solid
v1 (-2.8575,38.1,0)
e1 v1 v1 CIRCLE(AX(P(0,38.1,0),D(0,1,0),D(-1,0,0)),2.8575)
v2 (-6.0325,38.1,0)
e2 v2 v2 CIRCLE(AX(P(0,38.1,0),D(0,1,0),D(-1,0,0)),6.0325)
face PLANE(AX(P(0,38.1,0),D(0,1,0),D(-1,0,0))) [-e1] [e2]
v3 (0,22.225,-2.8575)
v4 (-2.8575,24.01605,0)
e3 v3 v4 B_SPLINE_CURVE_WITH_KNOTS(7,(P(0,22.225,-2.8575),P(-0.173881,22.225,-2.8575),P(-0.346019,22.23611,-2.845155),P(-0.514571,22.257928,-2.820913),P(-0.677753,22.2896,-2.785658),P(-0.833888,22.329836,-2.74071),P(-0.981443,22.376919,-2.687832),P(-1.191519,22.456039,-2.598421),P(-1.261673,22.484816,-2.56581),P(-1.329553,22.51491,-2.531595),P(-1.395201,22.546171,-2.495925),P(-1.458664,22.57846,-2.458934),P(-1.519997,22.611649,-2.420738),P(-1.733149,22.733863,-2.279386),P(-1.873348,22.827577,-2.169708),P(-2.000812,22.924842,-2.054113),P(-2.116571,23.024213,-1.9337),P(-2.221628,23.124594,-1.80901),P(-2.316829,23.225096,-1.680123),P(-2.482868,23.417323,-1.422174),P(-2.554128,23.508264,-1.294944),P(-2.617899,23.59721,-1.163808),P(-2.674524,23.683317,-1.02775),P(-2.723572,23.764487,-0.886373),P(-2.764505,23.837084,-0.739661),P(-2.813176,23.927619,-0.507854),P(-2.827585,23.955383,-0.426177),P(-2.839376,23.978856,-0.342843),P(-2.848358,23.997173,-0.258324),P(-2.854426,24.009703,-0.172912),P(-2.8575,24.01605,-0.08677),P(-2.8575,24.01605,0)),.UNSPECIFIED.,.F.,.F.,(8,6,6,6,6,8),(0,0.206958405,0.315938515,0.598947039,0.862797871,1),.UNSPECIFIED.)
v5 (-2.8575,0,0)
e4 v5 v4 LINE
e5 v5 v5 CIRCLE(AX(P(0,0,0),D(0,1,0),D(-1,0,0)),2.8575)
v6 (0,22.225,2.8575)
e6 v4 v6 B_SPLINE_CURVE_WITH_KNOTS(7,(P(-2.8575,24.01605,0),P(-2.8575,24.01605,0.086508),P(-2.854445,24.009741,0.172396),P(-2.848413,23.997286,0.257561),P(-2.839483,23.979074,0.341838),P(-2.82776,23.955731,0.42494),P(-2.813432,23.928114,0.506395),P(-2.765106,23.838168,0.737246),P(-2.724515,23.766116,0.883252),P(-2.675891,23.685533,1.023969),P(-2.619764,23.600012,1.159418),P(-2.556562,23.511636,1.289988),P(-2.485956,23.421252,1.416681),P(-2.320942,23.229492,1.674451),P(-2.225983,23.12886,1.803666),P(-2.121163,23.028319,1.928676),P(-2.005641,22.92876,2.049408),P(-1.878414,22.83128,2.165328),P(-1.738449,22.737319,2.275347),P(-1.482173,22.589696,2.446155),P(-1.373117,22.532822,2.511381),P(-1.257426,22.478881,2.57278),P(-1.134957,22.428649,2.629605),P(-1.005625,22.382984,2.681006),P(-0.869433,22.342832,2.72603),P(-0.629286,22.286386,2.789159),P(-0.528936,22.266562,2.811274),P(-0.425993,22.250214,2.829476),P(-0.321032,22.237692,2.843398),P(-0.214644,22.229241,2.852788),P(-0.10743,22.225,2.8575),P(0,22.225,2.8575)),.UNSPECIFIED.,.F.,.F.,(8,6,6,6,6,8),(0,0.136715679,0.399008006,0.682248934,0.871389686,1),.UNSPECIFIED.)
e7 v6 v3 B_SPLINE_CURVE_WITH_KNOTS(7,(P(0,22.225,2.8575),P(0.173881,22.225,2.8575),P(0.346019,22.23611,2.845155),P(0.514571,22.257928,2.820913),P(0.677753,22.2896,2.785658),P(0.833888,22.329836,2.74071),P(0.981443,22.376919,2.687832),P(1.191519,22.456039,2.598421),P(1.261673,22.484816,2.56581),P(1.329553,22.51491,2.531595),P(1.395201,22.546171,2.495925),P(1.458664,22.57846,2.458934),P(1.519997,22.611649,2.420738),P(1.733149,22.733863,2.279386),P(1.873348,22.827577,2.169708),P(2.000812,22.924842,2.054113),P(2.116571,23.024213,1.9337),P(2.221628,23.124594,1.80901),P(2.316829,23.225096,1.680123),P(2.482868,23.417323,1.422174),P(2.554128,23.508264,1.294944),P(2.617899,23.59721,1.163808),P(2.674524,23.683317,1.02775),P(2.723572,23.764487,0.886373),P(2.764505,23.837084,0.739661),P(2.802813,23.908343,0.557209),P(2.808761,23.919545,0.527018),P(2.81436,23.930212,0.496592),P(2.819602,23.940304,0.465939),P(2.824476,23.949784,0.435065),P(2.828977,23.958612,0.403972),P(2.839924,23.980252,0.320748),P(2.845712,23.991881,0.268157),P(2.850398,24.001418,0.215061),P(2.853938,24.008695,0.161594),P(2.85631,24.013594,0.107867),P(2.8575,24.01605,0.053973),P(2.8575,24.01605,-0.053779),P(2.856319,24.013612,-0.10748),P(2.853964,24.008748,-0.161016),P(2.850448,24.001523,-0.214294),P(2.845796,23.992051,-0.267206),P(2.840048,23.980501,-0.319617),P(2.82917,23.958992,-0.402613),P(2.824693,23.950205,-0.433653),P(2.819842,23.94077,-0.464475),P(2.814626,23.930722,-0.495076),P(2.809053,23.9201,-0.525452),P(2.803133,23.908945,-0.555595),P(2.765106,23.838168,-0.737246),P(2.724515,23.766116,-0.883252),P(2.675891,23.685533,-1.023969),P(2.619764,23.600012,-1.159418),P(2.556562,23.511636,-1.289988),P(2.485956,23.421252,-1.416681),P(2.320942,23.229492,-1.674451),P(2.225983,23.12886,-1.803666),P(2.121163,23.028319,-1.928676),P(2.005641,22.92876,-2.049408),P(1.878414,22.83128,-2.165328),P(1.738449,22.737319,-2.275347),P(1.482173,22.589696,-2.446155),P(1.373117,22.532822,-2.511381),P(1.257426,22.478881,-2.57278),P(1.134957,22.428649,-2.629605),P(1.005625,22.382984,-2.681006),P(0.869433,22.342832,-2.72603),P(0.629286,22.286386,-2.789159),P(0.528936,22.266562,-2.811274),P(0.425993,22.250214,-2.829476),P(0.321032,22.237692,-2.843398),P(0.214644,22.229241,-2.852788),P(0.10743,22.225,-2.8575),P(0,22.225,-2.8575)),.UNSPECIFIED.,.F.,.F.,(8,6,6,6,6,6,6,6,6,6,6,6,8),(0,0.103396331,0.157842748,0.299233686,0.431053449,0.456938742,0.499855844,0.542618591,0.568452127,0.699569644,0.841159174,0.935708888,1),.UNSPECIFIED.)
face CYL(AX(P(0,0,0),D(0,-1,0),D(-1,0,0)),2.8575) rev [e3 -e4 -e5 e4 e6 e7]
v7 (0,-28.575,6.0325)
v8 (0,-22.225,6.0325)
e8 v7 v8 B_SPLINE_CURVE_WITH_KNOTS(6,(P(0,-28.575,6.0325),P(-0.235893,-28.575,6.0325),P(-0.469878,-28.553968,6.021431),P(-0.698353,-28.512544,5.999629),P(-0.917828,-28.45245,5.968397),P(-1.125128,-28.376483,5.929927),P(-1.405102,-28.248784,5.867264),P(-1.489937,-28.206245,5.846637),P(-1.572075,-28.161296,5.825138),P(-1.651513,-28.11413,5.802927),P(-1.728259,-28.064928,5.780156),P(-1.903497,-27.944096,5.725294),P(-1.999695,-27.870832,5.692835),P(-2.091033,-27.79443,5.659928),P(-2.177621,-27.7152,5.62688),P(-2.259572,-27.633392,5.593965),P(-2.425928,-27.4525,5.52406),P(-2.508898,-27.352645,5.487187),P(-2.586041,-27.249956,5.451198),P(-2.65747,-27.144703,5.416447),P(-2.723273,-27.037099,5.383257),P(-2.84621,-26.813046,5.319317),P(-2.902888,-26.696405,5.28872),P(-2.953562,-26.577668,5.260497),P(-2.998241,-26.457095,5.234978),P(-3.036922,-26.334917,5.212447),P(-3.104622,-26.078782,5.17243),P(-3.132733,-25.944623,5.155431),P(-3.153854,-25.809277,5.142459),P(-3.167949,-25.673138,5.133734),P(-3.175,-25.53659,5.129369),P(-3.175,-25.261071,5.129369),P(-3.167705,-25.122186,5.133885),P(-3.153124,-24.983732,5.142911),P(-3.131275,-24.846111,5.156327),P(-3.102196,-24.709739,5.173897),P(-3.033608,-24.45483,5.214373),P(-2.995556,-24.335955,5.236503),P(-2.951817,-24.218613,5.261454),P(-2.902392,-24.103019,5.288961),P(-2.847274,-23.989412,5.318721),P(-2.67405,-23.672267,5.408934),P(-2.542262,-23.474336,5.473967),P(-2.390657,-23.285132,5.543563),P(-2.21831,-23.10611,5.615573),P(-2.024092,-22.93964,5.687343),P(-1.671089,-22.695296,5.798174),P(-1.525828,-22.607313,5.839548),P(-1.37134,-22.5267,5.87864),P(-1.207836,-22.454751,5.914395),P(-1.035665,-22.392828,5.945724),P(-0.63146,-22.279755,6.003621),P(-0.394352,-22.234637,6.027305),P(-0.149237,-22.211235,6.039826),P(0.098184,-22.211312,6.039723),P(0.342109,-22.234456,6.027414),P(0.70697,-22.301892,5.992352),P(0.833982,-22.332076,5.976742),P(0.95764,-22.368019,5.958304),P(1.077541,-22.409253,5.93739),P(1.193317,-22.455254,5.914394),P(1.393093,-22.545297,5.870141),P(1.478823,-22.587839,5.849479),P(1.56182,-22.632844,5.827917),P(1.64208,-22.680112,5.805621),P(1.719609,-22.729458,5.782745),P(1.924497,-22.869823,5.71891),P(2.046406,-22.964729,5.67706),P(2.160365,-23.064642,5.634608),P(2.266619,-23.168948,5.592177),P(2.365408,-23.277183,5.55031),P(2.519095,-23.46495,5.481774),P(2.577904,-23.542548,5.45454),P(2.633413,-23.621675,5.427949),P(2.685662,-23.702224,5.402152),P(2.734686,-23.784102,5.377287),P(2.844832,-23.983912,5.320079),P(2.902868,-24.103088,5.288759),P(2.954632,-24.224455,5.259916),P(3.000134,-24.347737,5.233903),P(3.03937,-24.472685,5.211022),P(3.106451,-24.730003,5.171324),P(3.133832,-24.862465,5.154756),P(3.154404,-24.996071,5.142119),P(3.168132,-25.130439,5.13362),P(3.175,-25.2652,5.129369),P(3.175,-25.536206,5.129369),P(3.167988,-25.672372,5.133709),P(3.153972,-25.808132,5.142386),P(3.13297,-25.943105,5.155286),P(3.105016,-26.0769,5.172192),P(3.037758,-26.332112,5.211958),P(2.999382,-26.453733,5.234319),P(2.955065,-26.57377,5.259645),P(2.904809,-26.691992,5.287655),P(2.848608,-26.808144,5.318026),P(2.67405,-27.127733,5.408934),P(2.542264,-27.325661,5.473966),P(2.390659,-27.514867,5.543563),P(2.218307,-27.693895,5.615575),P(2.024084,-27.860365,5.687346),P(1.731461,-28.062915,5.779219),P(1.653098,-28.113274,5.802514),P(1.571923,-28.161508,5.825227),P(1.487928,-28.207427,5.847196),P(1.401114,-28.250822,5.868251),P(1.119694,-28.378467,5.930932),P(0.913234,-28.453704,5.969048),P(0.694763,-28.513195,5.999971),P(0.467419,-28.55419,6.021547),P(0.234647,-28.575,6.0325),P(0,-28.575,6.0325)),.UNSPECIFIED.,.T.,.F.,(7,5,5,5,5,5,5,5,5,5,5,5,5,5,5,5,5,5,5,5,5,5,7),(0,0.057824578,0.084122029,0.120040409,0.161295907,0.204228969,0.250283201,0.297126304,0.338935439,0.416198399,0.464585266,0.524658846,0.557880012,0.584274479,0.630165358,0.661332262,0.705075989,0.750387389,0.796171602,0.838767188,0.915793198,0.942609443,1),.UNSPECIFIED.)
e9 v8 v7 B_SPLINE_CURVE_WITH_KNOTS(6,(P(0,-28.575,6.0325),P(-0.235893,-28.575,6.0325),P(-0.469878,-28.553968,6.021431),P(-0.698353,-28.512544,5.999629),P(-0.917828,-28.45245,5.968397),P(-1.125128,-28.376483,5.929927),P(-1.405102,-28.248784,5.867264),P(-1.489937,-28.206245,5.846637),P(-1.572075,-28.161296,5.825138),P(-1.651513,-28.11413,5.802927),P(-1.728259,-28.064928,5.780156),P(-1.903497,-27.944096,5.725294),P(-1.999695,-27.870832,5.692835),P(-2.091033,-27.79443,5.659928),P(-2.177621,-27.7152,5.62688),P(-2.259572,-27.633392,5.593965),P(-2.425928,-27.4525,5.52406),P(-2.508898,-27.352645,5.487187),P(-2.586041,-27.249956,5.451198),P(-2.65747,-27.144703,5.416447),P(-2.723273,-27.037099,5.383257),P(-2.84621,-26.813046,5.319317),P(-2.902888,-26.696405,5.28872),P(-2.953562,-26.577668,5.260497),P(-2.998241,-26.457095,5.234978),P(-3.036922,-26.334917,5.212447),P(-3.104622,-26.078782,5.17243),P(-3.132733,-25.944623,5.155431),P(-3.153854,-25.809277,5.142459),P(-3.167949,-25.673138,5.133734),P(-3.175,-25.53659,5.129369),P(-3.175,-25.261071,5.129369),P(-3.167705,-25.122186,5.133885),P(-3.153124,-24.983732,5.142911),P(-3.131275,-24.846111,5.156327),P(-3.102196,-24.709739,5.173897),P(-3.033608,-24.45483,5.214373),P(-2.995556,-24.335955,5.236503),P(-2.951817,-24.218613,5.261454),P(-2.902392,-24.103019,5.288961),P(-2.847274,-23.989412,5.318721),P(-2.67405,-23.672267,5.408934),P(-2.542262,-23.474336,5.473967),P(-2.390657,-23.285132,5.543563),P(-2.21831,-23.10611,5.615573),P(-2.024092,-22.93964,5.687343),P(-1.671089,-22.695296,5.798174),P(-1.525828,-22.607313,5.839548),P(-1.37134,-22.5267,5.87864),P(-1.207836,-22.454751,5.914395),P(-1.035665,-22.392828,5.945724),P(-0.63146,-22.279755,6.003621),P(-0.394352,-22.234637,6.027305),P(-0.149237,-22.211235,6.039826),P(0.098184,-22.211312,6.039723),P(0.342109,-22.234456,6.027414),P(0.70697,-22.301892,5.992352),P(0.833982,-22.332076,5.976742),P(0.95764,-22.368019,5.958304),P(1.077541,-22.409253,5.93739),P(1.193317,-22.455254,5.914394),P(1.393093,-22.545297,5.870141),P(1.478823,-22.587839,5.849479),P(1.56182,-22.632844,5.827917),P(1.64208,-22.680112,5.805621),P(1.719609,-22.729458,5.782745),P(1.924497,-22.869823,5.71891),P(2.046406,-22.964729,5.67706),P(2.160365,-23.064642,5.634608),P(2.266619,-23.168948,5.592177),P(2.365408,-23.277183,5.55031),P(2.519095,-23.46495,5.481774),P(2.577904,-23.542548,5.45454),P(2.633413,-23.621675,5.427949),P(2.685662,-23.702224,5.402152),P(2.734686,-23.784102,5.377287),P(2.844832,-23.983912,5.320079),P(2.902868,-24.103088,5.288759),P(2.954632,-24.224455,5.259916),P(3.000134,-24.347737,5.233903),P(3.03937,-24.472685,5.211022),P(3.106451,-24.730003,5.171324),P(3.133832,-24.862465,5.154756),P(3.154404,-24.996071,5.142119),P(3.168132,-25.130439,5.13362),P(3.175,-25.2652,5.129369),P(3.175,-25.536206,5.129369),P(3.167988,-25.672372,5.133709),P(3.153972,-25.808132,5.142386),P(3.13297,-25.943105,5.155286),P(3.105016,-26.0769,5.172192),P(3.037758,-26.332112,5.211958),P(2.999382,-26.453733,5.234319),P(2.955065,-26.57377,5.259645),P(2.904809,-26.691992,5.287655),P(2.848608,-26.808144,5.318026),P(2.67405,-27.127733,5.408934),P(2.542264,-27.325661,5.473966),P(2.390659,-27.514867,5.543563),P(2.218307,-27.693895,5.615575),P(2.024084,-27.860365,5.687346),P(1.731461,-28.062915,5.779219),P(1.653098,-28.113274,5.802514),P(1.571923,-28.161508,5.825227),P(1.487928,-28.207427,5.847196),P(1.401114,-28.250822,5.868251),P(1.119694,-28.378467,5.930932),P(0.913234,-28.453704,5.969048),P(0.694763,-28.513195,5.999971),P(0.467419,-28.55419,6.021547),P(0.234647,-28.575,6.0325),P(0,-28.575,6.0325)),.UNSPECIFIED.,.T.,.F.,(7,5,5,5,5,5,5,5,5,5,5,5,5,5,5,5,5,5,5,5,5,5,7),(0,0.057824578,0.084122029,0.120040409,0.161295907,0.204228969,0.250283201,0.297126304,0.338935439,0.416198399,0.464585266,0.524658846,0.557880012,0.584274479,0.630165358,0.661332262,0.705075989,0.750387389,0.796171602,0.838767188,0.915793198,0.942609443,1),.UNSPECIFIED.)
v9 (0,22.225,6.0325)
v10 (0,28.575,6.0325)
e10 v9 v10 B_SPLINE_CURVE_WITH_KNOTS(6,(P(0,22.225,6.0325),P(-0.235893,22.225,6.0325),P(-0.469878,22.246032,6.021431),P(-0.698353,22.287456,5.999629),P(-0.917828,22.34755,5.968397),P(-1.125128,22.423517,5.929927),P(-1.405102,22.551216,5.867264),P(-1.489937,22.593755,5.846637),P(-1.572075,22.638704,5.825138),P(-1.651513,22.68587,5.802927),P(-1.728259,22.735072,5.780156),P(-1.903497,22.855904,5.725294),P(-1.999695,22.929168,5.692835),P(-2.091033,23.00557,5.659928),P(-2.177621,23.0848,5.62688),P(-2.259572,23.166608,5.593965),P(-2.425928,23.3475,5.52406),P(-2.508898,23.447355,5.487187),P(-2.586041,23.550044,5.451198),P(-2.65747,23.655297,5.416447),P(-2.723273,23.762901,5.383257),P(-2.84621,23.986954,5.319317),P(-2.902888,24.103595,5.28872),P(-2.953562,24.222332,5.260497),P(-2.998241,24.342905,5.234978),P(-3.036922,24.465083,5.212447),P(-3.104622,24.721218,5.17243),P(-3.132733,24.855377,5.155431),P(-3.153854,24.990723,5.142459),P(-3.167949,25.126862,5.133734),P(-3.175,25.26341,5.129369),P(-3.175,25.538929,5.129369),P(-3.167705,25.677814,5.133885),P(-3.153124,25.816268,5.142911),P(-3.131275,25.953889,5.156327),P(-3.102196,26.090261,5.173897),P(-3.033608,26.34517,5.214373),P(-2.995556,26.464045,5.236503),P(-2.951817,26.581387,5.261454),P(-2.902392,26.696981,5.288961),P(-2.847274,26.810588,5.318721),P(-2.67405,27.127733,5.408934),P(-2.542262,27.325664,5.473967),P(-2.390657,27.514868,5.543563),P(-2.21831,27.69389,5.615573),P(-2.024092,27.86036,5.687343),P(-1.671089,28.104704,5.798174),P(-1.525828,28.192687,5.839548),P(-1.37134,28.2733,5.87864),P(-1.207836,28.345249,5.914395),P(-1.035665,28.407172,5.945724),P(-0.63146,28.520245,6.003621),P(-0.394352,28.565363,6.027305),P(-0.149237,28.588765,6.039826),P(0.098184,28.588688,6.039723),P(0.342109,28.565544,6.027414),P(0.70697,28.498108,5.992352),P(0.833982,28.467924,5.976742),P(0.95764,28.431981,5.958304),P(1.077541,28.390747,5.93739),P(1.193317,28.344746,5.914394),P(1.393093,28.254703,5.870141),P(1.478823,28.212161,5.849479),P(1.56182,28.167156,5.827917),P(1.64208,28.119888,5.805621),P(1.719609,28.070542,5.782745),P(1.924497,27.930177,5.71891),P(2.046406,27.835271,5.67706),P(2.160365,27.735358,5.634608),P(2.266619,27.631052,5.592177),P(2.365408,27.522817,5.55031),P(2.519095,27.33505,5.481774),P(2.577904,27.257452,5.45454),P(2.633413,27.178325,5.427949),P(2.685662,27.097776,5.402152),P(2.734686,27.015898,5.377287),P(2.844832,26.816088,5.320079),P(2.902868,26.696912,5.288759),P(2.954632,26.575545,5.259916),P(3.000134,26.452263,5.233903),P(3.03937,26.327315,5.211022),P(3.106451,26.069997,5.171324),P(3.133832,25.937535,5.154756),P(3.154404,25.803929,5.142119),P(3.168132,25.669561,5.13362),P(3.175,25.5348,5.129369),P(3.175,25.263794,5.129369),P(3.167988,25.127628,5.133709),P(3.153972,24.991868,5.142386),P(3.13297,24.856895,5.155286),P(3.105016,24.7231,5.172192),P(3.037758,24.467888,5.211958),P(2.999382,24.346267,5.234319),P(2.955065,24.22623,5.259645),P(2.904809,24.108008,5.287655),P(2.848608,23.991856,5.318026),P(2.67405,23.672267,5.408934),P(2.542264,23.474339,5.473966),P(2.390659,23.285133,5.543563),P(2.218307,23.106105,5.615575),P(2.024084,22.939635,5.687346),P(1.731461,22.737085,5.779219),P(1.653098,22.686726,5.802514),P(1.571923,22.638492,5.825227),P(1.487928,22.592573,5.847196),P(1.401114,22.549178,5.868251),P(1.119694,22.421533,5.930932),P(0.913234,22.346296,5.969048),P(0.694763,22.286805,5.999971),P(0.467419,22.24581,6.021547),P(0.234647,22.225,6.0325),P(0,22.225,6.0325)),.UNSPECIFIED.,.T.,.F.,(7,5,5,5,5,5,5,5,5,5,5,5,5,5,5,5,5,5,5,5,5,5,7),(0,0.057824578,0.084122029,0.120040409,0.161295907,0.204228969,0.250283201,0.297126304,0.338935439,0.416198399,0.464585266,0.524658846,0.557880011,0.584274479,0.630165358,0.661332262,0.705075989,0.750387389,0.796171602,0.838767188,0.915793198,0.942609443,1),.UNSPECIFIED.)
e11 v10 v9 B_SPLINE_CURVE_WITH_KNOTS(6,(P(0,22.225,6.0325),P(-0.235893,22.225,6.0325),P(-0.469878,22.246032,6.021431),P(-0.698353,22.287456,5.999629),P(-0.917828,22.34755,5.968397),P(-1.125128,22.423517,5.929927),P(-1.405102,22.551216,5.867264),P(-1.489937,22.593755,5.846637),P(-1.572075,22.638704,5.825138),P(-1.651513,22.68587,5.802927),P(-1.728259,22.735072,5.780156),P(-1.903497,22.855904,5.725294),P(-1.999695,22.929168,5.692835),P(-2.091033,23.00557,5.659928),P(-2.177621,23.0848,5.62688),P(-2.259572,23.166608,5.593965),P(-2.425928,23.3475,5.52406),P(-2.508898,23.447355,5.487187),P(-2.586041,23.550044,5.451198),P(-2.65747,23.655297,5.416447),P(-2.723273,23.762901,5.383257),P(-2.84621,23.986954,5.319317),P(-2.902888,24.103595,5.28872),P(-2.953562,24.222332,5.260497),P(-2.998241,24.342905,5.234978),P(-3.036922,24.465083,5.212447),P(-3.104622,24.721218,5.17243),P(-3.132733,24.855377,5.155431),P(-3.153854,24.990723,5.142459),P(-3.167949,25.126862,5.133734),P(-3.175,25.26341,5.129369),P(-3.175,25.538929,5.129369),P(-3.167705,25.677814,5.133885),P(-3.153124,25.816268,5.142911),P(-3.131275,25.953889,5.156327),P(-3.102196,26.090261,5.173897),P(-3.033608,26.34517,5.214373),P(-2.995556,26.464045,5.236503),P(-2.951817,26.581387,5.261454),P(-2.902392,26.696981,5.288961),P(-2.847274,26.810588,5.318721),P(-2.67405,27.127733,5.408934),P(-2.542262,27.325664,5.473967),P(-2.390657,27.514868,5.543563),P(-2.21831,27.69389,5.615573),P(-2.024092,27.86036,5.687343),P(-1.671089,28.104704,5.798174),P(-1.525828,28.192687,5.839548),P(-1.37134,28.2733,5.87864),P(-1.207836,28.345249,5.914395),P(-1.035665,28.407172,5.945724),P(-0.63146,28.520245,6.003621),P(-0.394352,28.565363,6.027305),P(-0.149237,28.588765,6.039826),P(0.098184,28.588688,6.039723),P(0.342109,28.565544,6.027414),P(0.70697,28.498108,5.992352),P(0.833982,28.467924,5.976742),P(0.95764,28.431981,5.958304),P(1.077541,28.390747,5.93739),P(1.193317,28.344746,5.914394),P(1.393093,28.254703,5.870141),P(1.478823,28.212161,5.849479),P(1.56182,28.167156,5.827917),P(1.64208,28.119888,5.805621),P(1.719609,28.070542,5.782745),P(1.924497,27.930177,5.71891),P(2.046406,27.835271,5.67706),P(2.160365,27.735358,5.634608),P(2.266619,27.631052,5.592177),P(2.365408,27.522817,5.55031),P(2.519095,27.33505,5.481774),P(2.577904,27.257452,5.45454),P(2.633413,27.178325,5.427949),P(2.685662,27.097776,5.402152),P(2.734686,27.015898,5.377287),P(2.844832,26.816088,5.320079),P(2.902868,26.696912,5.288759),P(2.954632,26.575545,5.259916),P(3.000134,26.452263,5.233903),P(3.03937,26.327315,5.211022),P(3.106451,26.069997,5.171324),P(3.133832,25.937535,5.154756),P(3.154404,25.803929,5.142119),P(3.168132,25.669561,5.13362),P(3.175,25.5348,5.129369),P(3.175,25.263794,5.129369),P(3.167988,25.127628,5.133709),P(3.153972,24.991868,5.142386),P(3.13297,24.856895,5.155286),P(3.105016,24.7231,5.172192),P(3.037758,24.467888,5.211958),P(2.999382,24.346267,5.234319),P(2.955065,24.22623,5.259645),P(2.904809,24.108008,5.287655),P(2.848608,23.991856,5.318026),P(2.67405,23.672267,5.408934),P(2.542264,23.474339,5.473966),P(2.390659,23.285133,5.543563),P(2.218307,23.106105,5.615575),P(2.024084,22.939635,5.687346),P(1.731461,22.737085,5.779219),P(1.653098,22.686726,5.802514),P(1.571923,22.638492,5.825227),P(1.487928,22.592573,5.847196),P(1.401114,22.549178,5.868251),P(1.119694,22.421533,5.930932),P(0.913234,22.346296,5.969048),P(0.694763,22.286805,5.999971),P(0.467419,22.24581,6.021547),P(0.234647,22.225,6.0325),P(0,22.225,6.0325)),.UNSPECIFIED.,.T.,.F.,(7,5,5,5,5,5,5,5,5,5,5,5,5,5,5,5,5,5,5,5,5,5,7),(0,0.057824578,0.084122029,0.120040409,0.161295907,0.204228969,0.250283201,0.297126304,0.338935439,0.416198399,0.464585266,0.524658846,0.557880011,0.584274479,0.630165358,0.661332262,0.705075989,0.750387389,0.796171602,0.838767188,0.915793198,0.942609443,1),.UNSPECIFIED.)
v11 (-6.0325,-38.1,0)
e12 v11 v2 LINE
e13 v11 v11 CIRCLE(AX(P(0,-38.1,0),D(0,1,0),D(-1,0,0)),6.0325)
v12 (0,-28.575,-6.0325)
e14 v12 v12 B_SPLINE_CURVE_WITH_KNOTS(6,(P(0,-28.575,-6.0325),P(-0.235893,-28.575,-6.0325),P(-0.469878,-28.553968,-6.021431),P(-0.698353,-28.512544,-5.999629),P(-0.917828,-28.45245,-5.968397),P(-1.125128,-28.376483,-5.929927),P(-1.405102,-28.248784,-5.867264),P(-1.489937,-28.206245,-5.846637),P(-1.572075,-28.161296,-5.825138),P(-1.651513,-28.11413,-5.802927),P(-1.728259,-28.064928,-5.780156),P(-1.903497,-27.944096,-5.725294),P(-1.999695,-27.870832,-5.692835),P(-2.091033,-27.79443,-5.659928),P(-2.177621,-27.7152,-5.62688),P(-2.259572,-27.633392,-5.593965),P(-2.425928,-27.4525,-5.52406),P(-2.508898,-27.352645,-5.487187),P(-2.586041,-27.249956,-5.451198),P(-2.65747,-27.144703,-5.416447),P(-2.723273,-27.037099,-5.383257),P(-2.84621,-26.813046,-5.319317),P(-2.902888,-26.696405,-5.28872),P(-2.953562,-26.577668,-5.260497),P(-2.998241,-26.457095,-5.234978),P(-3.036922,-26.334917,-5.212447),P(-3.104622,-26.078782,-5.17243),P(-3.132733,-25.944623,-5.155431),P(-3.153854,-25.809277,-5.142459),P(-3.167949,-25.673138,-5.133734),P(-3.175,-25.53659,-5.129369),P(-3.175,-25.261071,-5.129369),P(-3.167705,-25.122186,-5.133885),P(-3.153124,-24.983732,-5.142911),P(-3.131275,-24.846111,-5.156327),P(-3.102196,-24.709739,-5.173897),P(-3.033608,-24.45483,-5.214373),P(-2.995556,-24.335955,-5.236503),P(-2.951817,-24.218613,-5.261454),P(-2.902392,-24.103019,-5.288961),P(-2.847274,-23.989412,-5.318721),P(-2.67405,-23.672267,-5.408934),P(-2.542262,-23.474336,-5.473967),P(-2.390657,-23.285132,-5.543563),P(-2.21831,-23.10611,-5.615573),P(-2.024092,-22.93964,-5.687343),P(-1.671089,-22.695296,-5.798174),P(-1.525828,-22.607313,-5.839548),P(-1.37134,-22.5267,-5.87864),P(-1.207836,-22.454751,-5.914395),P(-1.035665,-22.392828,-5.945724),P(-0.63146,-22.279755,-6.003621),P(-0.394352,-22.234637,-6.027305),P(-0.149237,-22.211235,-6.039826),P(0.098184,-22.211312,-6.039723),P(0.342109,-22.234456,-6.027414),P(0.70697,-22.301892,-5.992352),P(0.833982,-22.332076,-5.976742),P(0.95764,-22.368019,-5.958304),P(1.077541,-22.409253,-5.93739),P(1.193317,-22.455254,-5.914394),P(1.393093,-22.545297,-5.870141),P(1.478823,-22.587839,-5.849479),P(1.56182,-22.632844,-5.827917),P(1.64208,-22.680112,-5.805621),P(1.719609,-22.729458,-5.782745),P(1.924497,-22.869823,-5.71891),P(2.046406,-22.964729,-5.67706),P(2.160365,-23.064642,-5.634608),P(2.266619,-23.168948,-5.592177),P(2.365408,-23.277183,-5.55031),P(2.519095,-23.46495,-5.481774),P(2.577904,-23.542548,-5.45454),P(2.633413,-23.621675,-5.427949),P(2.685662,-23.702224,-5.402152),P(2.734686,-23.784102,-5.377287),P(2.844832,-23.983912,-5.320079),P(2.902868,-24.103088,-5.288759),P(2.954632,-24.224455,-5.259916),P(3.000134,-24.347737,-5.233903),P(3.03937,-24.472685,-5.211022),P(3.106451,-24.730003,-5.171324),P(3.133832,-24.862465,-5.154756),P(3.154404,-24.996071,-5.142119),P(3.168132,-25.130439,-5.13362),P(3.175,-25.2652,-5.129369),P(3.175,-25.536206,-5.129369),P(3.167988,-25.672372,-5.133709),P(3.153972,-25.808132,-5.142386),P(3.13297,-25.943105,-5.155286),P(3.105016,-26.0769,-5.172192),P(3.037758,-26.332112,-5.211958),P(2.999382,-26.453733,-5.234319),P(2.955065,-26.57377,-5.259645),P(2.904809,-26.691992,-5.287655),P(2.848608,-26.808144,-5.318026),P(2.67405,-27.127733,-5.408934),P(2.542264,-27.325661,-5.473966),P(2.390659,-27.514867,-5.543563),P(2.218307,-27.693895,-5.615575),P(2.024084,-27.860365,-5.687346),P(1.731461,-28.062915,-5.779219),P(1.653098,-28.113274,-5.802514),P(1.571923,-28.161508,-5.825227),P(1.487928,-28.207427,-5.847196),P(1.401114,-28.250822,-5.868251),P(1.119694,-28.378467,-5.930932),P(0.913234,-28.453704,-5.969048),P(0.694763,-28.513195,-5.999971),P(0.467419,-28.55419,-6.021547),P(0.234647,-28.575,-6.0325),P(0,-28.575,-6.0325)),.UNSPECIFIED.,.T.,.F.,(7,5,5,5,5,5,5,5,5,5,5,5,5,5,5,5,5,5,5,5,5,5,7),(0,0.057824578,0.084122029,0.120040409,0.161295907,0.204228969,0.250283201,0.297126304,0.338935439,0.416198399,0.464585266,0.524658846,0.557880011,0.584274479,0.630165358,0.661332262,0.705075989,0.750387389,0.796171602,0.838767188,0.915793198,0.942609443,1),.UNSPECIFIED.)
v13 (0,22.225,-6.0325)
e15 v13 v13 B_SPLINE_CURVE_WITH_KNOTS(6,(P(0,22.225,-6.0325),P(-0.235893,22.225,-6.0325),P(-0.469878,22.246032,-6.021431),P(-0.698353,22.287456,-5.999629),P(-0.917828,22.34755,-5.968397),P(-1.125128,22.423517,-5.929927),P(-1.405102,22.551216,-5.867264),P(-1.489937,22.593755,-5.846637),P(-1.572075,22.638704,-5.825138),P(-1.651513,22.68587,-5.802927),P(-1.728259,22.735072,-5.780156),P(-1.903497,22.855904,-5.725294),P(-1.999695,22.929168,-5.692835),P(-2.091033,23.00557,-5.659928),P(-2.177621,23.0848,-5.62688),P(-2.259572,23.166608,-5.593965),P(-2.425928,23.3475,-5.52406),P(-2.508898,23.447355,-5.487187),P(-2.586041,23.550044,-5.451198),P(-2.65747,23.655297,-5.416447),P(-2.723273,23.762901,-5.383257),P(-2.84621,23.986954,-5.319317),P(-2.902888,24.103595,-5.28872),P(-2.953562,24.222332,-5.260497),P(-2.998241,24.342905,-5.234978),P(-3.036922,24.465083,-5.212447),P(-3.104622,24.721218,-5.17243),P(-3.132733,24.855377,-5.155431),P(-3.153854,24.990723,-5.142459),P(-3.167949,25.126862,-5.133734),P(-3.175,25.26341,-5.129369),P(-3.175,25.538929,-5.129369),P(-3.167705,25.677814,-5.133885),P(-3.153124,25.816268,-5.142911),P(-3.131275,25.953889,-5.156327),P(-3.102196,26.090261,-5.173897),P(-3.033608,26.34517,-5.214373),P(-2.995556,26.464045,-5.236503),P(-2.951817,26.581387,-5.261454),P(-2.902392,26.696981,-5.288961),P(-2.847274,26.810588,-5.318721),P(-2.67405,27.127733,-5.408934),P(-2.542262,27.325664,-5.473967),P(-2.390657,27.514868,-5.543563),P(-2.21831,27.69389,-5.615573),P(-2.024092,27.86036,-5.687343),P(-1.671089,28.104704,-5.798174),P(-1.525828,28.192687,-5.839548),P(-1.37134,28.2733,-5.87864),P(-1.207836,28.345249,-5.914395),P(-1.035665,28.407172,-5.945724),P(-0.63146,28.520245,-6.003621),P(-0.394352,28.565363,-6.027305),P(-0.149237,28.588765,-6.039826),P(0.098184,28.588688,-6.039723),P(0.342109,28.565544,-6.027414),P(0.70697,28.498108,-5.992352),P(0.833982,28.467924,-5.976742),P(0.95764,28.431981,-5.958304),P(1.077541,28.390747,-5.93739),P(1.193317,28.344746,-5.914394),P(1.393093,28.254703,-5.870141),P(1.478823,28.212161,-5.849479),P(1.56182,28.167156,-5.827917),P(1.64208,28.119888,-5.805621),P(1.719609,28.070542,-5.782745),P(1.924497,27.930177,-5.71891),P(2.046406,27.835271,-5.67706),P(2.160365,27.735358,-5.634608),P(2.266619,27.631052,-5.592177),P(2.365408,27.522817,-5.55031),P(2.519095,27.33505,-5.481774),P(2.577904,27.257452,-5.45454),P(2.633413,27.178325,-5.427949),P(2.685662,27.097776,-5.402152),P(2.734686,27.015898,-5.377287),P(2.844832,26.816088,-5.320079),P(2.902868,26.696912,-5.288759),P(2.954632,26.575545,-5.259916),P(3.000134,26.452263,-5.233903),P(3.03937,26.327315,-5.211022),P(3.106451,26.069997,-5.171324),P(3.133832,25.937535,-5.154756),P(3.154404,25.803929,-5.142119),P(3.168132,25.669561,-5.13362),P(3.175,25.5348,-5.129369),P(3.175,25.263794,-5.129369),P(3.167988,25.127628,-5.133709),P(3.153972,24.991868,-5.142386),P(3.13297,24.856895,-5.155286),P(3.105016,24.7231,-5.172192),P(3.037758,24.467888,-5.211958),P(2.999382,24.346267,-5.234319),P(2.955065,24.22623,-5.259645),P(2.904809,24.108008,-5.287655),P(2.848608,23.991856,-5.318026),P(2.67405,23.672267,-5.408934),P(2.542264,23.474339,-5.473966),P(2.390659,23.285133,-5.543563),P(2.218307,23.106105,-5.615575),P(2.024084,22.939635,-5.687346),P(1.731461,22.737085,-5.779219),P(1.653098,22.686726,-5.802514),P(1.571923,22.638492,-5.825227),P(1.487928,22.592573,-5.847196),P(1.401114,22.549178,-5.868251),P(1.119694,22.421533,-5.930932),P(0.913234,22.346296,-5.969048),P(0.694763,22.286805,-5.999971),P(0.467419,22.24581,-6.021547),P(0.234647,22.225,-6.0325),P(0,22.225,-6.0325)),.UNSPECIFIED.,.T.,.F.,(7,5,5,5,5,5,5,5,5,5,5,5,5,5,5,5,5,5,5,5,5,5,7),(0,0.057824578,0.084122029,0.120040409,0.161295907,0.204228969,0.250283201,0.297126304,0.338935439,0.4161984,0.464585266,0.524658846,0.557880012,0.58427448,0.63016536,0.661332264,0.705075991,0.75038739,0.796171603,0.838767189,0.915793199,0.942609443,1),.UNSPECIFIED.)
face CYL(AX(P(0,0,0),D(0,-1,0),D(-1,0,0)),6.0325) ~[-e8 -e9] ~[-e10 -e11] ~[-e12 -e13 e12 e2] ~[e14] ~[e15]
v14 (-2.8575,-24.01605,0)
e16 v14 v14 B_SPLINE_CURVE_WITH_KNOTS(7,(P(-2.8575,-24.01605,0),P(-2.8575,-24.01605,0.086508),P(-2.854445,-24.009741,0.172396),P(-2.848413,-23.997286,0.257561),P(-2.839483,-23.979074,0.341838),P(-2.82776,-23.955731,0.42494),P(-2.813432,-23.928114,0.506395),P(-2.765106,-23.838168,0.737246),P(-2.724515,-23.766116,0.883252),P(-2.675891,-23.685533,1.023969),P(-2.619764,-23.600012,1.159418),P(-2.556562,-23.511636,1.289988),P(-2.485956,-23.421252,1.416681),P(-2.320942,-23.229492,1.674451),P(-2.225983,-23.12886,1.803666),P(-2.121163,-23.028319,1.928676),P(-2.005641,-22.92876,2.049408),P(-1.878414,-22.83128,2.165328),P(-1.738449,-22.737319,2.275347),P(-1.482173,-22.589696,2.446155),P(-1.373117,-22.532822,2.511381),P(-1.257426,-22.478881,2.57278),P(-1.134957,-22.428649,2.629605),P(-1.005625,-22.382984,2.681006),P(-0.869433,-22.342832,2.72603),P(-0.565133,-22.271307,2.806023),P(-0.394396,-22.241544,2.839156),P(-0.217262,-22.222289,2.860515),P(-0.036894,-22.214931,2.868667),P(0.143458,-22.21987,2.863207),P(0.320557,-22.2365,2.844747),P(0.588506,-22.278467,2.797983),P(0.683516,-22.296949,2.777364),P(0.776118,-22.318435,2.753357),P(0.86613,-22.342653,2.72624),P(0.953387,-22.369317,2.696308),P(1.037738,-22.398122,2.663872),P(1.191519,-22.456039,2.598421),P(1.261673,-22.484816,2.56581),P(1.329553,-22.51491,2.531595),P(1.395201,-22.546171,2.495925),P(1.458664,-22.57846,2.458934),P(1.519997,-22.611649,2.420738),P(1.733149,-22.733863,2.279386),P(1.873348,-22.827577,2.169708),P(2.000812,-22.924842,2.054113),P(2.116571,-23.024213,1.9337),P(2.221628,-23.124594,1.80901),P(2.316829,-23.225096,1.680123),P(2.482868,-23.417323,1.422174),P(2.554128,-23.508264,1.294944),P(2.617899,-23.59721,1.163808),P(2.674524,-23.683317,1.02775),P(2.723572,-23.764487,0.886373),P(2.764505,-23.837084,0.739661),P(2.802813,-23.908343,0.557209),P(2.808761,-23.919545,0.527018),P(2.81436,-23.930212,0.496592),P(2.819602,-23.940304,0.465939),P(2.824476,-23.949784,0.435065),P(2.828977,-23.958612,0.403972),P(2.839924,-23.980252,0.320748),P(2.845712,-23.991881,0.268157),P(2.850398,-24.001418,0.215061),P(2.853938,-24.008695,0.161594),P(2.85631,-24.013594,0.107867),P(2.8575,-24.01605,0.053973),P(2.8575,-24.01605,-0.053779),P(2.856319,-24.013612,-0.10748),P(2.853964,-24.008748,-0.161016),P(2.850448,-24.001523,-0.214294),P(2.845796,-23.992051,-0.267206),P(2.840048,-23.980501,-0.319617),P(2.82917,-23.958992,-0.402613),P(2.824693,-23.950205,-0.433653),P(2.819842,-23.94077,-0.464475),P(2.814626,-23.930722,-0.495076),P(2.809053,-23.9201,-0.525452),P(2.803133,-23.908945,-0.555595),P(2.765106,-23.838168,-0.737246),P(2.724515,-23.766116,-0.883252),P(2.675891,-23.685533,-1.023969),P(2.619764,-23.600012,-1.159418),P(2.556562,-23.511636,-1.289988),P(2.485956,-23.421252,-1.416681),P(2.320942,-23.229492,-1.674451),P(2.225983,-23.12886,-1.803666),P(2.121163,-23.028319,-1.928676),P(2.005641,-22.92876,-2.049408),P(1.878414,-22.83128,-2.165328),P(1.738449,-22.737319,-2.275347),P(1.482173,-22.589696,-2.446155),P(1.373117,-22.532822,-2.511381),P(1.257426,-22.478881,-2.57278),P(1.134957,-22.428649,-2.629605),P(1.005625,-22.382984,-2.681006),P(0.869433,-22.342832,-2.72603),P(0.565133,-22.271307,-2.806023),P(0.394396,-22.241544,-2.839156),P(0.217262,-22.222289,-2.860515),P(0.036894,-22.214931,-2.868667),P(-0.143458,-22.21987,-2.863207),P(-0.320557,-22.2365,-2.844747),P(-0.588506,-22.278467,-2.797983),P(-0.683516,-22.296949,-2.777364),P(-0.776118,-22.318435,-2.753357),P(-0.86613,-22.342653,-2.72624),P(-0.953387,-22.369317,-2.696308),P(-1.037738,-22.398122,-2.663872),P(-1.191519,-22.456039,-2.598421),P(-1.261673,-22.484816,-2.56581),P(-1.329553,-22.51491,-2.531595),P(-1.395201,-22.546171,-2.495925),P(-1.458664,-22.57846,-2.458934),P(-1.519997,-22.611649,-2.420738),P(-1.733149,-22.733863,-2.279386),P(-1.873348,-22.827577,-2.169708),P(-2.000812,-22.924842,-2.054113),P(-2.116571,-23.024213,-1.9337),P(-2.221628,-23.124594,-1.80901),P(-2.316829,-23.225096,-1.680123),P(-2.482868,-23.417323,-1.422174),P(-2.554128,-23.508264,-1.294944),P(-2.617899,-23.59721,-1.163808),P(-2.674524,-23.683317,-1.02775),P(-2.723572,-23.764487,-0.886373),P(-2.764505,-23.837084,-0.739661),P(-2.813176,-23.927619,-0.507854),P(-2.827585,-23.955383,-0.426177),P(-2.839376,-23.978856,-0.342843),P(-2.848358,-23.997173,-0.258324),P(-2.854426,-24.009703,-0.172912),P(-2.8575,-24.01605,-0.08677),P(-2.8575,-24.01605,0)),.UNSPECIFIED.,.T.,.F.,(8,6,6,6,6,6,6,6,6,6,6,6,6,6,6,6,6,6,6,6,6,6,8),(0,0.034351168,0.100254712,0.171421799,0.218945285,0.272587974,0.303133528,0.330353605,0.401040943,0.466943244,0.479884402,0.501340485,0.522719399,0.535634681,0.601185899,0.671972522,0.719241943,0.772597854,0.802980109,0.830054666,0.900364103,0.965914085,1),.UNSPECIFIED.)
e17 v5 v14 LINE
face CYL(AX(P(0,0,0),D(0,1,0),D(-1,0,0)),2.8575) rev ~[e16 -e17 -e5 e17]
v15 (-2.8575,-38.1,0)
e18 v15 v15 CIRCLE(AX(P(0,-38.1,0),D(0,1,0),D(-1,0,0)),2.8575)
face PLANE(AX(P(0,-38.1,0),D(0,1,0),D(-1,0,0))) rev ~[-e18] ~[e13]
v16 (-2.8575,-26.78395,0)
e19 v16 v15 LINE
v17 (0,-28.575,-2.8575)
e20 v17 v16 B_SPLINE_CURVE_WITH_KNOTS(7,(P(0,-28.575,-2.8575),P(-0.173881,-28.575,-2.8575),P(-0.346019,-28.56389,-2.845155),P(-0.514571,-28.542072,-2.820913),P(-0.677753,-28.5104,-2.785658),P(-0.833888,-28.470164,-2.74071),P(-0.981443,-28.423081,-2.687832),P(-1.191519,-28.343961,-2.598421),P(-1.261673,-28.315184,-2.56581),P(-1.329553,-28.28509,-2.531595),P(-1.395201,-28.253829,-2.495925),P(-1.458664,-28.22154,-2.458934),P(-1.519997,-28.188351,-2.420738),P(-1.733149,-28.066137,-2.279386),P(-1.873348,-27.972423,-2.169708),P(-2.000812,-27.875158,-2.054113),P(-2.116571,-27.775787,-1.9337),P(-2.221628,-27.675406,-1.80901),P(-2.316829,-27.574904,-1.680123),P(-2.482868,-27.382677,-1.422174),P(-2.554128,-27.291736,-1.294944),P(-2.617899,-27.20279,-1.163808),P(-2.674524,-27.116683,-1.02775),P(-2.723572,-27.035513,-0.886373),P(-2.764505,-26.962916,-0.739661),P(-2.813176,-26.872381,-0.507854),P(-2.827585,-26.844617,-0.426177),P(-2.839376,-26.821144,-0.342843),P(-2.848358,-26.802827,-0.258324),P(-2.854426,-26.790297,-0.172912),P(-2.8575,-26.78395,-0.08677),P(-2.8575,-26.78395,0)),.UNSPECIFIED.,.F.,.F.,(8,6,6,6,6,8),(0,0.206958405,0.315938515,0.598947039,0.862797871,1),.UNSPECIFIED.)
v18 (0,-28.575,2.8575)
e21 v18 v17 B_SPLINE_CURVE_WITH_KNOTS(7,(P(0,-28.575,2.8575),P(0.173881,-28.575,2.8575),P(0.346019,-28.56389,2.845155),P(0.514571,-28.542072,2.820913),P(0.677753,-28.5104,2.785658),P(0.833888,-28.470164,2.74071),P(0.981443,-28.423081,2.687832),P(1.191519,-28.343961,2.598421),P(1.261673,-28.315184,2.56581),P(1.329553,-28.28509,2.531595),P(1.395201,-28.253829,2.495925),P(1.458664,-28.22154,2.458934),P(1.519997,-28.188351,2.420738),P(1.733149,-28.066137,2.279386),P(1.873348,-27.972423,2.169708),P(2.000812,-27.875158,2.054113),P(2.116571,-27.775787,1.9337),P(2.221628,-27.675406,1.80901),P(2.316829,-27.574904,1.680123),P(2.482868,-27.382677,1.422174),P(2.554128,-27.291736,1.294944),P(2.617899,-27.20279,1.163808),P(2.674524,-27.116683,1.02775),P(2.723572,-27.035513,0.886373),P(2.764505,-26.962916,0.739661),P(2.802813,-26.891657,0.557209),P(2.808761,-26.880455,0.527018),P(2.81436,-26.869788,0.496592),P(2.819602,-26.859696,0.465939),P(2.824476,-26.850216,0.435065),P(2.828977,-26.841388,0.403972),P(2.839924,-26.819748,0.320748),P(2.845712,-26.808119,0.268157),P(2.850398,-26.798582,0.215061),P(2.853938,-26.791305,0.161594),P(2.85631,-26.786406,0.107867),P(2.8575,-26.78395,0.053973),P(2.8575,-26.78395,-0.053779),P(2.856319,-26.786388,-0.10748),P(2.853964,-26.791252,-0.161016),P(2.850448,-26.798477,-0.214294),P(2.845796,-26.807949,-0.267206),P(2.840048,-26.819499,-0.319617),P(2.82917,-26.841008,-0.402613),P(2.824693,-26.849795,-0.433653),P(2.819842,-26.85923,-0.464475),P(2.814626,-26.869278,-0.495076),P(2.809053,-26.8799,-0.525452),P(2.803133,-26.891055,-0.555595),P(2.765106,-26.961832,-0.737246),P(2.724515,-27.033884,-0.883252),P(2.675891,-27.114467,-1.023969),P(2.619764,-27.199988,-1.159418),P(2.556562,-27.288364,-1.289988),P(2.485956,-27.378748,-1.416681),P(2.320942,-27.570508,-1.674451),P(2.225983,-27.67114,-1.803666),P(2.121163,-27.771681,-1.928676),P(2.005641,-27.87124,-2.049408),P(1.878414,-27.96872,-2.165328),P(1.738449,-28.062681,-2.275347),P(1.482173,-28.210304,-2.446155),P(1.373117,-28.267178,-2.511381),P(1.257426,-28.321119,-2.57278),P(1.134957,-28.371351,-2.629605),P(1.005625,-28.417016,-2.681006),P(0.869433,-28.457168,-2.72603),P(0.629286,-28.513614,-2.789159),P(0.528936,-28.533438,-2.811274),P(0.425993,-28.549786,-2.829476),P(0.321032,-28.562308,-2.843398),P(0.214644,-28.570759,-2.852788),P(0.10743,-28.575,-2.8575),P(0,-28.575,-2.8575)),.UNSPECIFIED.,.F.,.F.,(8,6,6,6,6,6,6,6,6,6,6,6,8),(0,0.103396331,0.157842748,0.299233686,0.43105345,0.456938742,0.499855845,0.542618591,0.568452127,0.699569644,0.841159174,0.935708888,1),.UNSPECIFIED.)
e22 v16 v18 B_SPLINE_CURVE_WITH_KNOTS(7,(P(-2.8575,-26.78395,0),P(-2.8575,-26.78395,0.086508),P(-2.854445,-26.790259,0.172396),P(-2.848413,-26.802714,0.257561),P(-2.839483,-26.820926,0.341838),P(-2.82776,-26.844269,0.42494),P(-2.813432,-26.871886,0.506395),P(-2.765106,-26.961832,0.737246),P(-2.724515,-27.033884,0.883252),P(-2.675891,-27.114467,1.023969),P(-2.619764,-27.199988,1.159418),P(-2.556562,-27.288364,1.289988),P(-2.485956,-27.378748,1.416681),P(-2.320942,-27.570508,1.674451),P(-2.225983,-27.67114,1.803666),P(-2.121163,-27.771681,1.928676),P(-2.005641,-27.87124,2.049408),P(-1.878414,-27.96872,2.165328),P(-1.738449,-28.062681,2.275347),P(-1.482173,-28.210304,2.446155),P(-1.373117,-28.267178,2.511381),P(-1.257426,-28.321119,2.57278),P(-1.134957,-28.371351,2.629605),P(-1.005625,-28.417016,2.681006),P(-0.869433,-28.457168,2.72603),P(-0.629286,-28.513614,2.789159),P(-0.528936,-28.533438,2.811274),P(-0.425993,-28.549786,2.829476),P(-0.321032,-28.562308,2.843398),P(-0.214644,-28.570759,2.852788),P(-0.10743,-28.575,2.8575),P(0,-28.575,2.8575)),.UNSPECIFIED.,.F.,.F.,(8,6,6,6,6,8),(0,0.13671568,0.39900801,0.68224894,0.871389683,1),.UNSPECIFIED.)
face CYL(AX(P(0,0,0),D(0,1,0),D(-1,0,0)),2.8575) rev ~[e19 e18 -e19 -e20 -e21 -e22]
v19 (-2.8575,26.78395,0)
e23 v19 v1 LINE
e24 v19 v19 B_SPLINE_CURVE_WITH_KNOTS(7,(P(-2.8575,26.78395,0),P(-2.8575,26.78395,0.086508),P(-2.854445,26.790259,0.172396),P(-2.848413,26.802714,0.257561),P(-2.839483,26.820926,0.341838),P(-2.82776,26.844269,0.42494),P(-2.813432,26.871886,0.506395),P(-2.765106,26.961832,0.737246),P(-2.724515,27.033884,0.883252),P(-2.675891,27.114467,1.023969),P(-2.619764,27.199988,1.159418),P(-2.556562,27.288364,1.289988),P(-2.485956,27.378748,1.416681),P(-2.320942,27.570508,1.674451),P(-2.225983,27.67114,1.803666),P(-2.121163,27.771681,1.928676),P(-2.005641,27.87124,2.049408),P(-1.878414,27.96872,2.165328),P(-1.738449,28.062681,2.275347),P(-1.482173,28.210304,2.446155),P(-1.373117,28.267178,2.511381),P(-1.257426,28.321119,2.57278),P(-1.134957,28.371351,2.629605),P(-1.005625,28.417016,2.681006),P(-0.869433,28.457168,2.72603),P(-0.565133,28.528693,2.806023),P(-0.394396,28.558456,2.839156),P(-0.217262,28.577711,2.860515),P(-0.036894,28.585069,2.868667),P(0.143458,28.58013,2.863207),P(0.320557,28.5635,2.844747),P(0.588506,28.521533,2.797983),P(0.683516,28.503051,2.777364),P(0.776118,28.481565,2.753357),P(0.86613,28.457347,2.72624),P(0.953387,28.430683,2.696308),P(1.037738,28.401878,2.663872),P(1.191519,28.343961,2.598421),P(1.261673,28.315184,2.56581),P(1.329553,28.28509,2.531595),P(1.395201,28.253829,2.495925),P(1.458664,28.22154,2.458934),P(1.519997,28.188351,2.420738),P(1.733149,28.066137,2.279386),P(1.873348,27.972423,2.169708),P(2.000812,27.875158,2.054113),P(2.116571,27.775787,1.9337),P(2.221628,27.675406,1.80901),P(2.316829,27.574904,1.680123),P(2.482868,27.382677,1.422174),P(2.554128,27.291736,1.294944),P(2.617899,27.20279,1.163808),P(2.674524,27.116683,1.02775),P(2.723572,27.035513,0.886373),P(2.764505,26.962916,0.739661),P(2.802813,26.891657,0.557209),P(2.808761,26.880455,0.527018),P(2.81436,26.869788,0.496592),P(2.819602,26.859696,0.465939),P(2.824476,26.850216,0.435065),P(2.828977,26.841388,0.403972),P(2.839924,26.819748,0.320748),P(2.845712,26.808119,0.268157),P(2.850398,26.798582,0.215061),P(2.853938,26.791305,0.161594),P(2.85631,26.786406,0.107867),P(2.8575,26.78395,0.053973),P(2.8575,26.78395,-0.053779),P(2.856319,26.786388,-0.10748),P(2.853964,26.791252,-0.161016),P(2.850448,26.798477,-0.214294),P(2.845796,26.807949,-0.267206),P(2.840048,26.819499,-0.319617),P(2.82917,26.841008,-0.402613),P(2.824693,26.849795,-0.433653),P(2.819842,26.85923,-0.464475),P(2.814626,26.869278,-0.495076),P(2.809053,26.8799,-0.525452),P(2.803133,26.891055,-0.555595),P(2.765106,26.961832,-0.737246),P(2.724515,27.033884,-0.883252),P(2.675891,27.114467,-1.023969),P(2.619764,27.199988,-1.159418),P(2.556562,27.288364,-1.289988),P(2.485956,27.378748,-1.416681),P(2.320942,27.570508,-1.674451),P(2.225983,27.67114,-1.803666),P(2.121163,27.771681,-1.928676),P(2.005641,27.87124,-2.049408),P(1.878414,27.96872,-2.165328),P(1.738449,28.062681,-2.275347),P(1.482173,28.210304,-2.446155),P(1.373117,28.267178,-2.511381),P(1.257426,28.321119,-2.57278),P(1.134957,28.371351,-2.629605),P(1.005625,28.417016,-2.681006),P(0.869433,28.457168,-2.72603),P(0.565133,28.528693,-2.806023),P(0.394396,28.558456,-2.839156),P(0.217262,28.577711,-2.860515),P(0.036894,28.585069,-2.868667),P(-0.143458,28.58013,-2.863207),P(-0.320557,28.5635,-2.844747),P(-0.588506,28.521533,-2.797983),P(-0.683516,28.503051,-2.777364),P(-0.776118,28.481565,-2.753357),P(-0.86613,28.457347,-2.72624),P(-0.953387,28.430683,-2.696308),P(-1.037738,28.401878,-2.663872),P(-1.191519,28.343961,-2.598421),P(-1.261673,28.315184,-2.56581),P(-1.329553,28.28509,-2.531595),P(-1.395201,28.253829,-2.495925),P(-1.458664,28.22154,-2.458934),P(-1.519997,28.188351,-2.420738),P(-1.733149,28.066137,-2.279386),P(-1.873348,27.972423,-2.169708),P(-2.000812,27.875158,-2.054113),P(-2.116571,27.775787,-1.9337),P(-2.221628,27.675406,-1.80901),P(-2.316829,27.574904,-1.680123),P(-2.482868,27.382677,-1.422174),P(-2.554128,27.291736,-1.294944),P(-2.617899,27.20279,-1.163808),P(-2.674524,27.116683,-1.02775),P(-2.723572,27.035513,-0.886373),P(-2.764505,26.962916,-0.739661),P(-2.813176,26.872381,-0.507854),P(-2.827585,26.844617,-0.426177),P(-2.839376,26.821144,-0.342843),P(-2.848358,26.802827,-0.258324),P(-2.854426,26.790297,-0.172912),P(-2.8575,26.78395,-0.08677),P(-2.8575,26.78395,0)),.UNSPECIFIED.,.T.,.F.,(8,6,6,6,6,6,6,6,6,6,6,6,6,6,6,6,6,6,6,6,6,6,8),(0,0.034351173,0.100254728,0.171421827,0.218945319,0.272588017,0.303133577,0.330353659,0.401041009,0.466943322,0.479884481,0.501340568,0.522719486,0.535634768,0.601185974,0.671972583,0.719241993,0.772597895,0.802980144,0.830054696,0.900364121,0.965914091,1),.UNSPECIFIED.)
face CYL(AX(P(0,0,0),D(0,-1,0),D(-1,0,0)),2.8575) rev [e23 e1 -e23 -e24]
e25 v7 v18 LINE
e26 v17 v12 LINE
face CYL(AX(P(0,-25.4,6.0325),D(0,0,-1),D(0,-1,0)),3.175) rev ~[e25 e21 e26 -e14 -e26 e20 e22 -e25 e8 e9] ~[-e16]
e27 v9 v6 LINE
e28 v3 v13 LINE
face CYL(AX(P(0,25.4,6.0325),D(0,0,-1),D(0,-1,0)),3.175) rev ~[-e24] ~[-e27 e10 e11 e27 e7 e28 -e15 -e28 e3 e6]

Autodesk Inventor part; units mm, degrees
ref_plane "YZ Plane" through (0, 0, 0) normal (1, 0, 0) x (0, 1, 0)
ref_plane "XZ Plane" through (0, 0, 0) normal (0, 1, 0) x (-1, 0, 0)
sketch "Sketch1" plane through (0, 0, 0) normal (0, 1, 0) x (-1, 0, 0)
  circle A0 centre (0, 0) radius 6.0325
  circle A1 centre (0, 0) radius 2.8575
  dimension "d0" = 12.065
  dimension "d1" = 5.715
extrude "Extrusion1" add sketch "Sketch1" along normal mid plane 76.2
ref_plane "Work Plane1" through (0, 0, 6.0325) normal (0, 0, 1) x (1, 0, 0)
sketch "Sketch2" plane through (0, 0, 6.0325) normal (0, 0, 1) x (1, 0, 0)
  line L0 (6.0325, 38.1) -> (-6.0325, 38.1) projected
  line L1 (-6.0325, -38.1) -> (6.0325, -38.1) projected
  point P0 (0, 0)
  point P1 (0, 25.4)
  point P2 (0, -25.4)
  dimension "d4" = 12.7
  dimension "d5" = 12.7
hole "Hole1" at (0, 25.4, 6.0325) at (0, -25.4, 6.0325) direction (0, 0, -1) diameter 6.35 end through all
properties part number "ConnectorRod"
